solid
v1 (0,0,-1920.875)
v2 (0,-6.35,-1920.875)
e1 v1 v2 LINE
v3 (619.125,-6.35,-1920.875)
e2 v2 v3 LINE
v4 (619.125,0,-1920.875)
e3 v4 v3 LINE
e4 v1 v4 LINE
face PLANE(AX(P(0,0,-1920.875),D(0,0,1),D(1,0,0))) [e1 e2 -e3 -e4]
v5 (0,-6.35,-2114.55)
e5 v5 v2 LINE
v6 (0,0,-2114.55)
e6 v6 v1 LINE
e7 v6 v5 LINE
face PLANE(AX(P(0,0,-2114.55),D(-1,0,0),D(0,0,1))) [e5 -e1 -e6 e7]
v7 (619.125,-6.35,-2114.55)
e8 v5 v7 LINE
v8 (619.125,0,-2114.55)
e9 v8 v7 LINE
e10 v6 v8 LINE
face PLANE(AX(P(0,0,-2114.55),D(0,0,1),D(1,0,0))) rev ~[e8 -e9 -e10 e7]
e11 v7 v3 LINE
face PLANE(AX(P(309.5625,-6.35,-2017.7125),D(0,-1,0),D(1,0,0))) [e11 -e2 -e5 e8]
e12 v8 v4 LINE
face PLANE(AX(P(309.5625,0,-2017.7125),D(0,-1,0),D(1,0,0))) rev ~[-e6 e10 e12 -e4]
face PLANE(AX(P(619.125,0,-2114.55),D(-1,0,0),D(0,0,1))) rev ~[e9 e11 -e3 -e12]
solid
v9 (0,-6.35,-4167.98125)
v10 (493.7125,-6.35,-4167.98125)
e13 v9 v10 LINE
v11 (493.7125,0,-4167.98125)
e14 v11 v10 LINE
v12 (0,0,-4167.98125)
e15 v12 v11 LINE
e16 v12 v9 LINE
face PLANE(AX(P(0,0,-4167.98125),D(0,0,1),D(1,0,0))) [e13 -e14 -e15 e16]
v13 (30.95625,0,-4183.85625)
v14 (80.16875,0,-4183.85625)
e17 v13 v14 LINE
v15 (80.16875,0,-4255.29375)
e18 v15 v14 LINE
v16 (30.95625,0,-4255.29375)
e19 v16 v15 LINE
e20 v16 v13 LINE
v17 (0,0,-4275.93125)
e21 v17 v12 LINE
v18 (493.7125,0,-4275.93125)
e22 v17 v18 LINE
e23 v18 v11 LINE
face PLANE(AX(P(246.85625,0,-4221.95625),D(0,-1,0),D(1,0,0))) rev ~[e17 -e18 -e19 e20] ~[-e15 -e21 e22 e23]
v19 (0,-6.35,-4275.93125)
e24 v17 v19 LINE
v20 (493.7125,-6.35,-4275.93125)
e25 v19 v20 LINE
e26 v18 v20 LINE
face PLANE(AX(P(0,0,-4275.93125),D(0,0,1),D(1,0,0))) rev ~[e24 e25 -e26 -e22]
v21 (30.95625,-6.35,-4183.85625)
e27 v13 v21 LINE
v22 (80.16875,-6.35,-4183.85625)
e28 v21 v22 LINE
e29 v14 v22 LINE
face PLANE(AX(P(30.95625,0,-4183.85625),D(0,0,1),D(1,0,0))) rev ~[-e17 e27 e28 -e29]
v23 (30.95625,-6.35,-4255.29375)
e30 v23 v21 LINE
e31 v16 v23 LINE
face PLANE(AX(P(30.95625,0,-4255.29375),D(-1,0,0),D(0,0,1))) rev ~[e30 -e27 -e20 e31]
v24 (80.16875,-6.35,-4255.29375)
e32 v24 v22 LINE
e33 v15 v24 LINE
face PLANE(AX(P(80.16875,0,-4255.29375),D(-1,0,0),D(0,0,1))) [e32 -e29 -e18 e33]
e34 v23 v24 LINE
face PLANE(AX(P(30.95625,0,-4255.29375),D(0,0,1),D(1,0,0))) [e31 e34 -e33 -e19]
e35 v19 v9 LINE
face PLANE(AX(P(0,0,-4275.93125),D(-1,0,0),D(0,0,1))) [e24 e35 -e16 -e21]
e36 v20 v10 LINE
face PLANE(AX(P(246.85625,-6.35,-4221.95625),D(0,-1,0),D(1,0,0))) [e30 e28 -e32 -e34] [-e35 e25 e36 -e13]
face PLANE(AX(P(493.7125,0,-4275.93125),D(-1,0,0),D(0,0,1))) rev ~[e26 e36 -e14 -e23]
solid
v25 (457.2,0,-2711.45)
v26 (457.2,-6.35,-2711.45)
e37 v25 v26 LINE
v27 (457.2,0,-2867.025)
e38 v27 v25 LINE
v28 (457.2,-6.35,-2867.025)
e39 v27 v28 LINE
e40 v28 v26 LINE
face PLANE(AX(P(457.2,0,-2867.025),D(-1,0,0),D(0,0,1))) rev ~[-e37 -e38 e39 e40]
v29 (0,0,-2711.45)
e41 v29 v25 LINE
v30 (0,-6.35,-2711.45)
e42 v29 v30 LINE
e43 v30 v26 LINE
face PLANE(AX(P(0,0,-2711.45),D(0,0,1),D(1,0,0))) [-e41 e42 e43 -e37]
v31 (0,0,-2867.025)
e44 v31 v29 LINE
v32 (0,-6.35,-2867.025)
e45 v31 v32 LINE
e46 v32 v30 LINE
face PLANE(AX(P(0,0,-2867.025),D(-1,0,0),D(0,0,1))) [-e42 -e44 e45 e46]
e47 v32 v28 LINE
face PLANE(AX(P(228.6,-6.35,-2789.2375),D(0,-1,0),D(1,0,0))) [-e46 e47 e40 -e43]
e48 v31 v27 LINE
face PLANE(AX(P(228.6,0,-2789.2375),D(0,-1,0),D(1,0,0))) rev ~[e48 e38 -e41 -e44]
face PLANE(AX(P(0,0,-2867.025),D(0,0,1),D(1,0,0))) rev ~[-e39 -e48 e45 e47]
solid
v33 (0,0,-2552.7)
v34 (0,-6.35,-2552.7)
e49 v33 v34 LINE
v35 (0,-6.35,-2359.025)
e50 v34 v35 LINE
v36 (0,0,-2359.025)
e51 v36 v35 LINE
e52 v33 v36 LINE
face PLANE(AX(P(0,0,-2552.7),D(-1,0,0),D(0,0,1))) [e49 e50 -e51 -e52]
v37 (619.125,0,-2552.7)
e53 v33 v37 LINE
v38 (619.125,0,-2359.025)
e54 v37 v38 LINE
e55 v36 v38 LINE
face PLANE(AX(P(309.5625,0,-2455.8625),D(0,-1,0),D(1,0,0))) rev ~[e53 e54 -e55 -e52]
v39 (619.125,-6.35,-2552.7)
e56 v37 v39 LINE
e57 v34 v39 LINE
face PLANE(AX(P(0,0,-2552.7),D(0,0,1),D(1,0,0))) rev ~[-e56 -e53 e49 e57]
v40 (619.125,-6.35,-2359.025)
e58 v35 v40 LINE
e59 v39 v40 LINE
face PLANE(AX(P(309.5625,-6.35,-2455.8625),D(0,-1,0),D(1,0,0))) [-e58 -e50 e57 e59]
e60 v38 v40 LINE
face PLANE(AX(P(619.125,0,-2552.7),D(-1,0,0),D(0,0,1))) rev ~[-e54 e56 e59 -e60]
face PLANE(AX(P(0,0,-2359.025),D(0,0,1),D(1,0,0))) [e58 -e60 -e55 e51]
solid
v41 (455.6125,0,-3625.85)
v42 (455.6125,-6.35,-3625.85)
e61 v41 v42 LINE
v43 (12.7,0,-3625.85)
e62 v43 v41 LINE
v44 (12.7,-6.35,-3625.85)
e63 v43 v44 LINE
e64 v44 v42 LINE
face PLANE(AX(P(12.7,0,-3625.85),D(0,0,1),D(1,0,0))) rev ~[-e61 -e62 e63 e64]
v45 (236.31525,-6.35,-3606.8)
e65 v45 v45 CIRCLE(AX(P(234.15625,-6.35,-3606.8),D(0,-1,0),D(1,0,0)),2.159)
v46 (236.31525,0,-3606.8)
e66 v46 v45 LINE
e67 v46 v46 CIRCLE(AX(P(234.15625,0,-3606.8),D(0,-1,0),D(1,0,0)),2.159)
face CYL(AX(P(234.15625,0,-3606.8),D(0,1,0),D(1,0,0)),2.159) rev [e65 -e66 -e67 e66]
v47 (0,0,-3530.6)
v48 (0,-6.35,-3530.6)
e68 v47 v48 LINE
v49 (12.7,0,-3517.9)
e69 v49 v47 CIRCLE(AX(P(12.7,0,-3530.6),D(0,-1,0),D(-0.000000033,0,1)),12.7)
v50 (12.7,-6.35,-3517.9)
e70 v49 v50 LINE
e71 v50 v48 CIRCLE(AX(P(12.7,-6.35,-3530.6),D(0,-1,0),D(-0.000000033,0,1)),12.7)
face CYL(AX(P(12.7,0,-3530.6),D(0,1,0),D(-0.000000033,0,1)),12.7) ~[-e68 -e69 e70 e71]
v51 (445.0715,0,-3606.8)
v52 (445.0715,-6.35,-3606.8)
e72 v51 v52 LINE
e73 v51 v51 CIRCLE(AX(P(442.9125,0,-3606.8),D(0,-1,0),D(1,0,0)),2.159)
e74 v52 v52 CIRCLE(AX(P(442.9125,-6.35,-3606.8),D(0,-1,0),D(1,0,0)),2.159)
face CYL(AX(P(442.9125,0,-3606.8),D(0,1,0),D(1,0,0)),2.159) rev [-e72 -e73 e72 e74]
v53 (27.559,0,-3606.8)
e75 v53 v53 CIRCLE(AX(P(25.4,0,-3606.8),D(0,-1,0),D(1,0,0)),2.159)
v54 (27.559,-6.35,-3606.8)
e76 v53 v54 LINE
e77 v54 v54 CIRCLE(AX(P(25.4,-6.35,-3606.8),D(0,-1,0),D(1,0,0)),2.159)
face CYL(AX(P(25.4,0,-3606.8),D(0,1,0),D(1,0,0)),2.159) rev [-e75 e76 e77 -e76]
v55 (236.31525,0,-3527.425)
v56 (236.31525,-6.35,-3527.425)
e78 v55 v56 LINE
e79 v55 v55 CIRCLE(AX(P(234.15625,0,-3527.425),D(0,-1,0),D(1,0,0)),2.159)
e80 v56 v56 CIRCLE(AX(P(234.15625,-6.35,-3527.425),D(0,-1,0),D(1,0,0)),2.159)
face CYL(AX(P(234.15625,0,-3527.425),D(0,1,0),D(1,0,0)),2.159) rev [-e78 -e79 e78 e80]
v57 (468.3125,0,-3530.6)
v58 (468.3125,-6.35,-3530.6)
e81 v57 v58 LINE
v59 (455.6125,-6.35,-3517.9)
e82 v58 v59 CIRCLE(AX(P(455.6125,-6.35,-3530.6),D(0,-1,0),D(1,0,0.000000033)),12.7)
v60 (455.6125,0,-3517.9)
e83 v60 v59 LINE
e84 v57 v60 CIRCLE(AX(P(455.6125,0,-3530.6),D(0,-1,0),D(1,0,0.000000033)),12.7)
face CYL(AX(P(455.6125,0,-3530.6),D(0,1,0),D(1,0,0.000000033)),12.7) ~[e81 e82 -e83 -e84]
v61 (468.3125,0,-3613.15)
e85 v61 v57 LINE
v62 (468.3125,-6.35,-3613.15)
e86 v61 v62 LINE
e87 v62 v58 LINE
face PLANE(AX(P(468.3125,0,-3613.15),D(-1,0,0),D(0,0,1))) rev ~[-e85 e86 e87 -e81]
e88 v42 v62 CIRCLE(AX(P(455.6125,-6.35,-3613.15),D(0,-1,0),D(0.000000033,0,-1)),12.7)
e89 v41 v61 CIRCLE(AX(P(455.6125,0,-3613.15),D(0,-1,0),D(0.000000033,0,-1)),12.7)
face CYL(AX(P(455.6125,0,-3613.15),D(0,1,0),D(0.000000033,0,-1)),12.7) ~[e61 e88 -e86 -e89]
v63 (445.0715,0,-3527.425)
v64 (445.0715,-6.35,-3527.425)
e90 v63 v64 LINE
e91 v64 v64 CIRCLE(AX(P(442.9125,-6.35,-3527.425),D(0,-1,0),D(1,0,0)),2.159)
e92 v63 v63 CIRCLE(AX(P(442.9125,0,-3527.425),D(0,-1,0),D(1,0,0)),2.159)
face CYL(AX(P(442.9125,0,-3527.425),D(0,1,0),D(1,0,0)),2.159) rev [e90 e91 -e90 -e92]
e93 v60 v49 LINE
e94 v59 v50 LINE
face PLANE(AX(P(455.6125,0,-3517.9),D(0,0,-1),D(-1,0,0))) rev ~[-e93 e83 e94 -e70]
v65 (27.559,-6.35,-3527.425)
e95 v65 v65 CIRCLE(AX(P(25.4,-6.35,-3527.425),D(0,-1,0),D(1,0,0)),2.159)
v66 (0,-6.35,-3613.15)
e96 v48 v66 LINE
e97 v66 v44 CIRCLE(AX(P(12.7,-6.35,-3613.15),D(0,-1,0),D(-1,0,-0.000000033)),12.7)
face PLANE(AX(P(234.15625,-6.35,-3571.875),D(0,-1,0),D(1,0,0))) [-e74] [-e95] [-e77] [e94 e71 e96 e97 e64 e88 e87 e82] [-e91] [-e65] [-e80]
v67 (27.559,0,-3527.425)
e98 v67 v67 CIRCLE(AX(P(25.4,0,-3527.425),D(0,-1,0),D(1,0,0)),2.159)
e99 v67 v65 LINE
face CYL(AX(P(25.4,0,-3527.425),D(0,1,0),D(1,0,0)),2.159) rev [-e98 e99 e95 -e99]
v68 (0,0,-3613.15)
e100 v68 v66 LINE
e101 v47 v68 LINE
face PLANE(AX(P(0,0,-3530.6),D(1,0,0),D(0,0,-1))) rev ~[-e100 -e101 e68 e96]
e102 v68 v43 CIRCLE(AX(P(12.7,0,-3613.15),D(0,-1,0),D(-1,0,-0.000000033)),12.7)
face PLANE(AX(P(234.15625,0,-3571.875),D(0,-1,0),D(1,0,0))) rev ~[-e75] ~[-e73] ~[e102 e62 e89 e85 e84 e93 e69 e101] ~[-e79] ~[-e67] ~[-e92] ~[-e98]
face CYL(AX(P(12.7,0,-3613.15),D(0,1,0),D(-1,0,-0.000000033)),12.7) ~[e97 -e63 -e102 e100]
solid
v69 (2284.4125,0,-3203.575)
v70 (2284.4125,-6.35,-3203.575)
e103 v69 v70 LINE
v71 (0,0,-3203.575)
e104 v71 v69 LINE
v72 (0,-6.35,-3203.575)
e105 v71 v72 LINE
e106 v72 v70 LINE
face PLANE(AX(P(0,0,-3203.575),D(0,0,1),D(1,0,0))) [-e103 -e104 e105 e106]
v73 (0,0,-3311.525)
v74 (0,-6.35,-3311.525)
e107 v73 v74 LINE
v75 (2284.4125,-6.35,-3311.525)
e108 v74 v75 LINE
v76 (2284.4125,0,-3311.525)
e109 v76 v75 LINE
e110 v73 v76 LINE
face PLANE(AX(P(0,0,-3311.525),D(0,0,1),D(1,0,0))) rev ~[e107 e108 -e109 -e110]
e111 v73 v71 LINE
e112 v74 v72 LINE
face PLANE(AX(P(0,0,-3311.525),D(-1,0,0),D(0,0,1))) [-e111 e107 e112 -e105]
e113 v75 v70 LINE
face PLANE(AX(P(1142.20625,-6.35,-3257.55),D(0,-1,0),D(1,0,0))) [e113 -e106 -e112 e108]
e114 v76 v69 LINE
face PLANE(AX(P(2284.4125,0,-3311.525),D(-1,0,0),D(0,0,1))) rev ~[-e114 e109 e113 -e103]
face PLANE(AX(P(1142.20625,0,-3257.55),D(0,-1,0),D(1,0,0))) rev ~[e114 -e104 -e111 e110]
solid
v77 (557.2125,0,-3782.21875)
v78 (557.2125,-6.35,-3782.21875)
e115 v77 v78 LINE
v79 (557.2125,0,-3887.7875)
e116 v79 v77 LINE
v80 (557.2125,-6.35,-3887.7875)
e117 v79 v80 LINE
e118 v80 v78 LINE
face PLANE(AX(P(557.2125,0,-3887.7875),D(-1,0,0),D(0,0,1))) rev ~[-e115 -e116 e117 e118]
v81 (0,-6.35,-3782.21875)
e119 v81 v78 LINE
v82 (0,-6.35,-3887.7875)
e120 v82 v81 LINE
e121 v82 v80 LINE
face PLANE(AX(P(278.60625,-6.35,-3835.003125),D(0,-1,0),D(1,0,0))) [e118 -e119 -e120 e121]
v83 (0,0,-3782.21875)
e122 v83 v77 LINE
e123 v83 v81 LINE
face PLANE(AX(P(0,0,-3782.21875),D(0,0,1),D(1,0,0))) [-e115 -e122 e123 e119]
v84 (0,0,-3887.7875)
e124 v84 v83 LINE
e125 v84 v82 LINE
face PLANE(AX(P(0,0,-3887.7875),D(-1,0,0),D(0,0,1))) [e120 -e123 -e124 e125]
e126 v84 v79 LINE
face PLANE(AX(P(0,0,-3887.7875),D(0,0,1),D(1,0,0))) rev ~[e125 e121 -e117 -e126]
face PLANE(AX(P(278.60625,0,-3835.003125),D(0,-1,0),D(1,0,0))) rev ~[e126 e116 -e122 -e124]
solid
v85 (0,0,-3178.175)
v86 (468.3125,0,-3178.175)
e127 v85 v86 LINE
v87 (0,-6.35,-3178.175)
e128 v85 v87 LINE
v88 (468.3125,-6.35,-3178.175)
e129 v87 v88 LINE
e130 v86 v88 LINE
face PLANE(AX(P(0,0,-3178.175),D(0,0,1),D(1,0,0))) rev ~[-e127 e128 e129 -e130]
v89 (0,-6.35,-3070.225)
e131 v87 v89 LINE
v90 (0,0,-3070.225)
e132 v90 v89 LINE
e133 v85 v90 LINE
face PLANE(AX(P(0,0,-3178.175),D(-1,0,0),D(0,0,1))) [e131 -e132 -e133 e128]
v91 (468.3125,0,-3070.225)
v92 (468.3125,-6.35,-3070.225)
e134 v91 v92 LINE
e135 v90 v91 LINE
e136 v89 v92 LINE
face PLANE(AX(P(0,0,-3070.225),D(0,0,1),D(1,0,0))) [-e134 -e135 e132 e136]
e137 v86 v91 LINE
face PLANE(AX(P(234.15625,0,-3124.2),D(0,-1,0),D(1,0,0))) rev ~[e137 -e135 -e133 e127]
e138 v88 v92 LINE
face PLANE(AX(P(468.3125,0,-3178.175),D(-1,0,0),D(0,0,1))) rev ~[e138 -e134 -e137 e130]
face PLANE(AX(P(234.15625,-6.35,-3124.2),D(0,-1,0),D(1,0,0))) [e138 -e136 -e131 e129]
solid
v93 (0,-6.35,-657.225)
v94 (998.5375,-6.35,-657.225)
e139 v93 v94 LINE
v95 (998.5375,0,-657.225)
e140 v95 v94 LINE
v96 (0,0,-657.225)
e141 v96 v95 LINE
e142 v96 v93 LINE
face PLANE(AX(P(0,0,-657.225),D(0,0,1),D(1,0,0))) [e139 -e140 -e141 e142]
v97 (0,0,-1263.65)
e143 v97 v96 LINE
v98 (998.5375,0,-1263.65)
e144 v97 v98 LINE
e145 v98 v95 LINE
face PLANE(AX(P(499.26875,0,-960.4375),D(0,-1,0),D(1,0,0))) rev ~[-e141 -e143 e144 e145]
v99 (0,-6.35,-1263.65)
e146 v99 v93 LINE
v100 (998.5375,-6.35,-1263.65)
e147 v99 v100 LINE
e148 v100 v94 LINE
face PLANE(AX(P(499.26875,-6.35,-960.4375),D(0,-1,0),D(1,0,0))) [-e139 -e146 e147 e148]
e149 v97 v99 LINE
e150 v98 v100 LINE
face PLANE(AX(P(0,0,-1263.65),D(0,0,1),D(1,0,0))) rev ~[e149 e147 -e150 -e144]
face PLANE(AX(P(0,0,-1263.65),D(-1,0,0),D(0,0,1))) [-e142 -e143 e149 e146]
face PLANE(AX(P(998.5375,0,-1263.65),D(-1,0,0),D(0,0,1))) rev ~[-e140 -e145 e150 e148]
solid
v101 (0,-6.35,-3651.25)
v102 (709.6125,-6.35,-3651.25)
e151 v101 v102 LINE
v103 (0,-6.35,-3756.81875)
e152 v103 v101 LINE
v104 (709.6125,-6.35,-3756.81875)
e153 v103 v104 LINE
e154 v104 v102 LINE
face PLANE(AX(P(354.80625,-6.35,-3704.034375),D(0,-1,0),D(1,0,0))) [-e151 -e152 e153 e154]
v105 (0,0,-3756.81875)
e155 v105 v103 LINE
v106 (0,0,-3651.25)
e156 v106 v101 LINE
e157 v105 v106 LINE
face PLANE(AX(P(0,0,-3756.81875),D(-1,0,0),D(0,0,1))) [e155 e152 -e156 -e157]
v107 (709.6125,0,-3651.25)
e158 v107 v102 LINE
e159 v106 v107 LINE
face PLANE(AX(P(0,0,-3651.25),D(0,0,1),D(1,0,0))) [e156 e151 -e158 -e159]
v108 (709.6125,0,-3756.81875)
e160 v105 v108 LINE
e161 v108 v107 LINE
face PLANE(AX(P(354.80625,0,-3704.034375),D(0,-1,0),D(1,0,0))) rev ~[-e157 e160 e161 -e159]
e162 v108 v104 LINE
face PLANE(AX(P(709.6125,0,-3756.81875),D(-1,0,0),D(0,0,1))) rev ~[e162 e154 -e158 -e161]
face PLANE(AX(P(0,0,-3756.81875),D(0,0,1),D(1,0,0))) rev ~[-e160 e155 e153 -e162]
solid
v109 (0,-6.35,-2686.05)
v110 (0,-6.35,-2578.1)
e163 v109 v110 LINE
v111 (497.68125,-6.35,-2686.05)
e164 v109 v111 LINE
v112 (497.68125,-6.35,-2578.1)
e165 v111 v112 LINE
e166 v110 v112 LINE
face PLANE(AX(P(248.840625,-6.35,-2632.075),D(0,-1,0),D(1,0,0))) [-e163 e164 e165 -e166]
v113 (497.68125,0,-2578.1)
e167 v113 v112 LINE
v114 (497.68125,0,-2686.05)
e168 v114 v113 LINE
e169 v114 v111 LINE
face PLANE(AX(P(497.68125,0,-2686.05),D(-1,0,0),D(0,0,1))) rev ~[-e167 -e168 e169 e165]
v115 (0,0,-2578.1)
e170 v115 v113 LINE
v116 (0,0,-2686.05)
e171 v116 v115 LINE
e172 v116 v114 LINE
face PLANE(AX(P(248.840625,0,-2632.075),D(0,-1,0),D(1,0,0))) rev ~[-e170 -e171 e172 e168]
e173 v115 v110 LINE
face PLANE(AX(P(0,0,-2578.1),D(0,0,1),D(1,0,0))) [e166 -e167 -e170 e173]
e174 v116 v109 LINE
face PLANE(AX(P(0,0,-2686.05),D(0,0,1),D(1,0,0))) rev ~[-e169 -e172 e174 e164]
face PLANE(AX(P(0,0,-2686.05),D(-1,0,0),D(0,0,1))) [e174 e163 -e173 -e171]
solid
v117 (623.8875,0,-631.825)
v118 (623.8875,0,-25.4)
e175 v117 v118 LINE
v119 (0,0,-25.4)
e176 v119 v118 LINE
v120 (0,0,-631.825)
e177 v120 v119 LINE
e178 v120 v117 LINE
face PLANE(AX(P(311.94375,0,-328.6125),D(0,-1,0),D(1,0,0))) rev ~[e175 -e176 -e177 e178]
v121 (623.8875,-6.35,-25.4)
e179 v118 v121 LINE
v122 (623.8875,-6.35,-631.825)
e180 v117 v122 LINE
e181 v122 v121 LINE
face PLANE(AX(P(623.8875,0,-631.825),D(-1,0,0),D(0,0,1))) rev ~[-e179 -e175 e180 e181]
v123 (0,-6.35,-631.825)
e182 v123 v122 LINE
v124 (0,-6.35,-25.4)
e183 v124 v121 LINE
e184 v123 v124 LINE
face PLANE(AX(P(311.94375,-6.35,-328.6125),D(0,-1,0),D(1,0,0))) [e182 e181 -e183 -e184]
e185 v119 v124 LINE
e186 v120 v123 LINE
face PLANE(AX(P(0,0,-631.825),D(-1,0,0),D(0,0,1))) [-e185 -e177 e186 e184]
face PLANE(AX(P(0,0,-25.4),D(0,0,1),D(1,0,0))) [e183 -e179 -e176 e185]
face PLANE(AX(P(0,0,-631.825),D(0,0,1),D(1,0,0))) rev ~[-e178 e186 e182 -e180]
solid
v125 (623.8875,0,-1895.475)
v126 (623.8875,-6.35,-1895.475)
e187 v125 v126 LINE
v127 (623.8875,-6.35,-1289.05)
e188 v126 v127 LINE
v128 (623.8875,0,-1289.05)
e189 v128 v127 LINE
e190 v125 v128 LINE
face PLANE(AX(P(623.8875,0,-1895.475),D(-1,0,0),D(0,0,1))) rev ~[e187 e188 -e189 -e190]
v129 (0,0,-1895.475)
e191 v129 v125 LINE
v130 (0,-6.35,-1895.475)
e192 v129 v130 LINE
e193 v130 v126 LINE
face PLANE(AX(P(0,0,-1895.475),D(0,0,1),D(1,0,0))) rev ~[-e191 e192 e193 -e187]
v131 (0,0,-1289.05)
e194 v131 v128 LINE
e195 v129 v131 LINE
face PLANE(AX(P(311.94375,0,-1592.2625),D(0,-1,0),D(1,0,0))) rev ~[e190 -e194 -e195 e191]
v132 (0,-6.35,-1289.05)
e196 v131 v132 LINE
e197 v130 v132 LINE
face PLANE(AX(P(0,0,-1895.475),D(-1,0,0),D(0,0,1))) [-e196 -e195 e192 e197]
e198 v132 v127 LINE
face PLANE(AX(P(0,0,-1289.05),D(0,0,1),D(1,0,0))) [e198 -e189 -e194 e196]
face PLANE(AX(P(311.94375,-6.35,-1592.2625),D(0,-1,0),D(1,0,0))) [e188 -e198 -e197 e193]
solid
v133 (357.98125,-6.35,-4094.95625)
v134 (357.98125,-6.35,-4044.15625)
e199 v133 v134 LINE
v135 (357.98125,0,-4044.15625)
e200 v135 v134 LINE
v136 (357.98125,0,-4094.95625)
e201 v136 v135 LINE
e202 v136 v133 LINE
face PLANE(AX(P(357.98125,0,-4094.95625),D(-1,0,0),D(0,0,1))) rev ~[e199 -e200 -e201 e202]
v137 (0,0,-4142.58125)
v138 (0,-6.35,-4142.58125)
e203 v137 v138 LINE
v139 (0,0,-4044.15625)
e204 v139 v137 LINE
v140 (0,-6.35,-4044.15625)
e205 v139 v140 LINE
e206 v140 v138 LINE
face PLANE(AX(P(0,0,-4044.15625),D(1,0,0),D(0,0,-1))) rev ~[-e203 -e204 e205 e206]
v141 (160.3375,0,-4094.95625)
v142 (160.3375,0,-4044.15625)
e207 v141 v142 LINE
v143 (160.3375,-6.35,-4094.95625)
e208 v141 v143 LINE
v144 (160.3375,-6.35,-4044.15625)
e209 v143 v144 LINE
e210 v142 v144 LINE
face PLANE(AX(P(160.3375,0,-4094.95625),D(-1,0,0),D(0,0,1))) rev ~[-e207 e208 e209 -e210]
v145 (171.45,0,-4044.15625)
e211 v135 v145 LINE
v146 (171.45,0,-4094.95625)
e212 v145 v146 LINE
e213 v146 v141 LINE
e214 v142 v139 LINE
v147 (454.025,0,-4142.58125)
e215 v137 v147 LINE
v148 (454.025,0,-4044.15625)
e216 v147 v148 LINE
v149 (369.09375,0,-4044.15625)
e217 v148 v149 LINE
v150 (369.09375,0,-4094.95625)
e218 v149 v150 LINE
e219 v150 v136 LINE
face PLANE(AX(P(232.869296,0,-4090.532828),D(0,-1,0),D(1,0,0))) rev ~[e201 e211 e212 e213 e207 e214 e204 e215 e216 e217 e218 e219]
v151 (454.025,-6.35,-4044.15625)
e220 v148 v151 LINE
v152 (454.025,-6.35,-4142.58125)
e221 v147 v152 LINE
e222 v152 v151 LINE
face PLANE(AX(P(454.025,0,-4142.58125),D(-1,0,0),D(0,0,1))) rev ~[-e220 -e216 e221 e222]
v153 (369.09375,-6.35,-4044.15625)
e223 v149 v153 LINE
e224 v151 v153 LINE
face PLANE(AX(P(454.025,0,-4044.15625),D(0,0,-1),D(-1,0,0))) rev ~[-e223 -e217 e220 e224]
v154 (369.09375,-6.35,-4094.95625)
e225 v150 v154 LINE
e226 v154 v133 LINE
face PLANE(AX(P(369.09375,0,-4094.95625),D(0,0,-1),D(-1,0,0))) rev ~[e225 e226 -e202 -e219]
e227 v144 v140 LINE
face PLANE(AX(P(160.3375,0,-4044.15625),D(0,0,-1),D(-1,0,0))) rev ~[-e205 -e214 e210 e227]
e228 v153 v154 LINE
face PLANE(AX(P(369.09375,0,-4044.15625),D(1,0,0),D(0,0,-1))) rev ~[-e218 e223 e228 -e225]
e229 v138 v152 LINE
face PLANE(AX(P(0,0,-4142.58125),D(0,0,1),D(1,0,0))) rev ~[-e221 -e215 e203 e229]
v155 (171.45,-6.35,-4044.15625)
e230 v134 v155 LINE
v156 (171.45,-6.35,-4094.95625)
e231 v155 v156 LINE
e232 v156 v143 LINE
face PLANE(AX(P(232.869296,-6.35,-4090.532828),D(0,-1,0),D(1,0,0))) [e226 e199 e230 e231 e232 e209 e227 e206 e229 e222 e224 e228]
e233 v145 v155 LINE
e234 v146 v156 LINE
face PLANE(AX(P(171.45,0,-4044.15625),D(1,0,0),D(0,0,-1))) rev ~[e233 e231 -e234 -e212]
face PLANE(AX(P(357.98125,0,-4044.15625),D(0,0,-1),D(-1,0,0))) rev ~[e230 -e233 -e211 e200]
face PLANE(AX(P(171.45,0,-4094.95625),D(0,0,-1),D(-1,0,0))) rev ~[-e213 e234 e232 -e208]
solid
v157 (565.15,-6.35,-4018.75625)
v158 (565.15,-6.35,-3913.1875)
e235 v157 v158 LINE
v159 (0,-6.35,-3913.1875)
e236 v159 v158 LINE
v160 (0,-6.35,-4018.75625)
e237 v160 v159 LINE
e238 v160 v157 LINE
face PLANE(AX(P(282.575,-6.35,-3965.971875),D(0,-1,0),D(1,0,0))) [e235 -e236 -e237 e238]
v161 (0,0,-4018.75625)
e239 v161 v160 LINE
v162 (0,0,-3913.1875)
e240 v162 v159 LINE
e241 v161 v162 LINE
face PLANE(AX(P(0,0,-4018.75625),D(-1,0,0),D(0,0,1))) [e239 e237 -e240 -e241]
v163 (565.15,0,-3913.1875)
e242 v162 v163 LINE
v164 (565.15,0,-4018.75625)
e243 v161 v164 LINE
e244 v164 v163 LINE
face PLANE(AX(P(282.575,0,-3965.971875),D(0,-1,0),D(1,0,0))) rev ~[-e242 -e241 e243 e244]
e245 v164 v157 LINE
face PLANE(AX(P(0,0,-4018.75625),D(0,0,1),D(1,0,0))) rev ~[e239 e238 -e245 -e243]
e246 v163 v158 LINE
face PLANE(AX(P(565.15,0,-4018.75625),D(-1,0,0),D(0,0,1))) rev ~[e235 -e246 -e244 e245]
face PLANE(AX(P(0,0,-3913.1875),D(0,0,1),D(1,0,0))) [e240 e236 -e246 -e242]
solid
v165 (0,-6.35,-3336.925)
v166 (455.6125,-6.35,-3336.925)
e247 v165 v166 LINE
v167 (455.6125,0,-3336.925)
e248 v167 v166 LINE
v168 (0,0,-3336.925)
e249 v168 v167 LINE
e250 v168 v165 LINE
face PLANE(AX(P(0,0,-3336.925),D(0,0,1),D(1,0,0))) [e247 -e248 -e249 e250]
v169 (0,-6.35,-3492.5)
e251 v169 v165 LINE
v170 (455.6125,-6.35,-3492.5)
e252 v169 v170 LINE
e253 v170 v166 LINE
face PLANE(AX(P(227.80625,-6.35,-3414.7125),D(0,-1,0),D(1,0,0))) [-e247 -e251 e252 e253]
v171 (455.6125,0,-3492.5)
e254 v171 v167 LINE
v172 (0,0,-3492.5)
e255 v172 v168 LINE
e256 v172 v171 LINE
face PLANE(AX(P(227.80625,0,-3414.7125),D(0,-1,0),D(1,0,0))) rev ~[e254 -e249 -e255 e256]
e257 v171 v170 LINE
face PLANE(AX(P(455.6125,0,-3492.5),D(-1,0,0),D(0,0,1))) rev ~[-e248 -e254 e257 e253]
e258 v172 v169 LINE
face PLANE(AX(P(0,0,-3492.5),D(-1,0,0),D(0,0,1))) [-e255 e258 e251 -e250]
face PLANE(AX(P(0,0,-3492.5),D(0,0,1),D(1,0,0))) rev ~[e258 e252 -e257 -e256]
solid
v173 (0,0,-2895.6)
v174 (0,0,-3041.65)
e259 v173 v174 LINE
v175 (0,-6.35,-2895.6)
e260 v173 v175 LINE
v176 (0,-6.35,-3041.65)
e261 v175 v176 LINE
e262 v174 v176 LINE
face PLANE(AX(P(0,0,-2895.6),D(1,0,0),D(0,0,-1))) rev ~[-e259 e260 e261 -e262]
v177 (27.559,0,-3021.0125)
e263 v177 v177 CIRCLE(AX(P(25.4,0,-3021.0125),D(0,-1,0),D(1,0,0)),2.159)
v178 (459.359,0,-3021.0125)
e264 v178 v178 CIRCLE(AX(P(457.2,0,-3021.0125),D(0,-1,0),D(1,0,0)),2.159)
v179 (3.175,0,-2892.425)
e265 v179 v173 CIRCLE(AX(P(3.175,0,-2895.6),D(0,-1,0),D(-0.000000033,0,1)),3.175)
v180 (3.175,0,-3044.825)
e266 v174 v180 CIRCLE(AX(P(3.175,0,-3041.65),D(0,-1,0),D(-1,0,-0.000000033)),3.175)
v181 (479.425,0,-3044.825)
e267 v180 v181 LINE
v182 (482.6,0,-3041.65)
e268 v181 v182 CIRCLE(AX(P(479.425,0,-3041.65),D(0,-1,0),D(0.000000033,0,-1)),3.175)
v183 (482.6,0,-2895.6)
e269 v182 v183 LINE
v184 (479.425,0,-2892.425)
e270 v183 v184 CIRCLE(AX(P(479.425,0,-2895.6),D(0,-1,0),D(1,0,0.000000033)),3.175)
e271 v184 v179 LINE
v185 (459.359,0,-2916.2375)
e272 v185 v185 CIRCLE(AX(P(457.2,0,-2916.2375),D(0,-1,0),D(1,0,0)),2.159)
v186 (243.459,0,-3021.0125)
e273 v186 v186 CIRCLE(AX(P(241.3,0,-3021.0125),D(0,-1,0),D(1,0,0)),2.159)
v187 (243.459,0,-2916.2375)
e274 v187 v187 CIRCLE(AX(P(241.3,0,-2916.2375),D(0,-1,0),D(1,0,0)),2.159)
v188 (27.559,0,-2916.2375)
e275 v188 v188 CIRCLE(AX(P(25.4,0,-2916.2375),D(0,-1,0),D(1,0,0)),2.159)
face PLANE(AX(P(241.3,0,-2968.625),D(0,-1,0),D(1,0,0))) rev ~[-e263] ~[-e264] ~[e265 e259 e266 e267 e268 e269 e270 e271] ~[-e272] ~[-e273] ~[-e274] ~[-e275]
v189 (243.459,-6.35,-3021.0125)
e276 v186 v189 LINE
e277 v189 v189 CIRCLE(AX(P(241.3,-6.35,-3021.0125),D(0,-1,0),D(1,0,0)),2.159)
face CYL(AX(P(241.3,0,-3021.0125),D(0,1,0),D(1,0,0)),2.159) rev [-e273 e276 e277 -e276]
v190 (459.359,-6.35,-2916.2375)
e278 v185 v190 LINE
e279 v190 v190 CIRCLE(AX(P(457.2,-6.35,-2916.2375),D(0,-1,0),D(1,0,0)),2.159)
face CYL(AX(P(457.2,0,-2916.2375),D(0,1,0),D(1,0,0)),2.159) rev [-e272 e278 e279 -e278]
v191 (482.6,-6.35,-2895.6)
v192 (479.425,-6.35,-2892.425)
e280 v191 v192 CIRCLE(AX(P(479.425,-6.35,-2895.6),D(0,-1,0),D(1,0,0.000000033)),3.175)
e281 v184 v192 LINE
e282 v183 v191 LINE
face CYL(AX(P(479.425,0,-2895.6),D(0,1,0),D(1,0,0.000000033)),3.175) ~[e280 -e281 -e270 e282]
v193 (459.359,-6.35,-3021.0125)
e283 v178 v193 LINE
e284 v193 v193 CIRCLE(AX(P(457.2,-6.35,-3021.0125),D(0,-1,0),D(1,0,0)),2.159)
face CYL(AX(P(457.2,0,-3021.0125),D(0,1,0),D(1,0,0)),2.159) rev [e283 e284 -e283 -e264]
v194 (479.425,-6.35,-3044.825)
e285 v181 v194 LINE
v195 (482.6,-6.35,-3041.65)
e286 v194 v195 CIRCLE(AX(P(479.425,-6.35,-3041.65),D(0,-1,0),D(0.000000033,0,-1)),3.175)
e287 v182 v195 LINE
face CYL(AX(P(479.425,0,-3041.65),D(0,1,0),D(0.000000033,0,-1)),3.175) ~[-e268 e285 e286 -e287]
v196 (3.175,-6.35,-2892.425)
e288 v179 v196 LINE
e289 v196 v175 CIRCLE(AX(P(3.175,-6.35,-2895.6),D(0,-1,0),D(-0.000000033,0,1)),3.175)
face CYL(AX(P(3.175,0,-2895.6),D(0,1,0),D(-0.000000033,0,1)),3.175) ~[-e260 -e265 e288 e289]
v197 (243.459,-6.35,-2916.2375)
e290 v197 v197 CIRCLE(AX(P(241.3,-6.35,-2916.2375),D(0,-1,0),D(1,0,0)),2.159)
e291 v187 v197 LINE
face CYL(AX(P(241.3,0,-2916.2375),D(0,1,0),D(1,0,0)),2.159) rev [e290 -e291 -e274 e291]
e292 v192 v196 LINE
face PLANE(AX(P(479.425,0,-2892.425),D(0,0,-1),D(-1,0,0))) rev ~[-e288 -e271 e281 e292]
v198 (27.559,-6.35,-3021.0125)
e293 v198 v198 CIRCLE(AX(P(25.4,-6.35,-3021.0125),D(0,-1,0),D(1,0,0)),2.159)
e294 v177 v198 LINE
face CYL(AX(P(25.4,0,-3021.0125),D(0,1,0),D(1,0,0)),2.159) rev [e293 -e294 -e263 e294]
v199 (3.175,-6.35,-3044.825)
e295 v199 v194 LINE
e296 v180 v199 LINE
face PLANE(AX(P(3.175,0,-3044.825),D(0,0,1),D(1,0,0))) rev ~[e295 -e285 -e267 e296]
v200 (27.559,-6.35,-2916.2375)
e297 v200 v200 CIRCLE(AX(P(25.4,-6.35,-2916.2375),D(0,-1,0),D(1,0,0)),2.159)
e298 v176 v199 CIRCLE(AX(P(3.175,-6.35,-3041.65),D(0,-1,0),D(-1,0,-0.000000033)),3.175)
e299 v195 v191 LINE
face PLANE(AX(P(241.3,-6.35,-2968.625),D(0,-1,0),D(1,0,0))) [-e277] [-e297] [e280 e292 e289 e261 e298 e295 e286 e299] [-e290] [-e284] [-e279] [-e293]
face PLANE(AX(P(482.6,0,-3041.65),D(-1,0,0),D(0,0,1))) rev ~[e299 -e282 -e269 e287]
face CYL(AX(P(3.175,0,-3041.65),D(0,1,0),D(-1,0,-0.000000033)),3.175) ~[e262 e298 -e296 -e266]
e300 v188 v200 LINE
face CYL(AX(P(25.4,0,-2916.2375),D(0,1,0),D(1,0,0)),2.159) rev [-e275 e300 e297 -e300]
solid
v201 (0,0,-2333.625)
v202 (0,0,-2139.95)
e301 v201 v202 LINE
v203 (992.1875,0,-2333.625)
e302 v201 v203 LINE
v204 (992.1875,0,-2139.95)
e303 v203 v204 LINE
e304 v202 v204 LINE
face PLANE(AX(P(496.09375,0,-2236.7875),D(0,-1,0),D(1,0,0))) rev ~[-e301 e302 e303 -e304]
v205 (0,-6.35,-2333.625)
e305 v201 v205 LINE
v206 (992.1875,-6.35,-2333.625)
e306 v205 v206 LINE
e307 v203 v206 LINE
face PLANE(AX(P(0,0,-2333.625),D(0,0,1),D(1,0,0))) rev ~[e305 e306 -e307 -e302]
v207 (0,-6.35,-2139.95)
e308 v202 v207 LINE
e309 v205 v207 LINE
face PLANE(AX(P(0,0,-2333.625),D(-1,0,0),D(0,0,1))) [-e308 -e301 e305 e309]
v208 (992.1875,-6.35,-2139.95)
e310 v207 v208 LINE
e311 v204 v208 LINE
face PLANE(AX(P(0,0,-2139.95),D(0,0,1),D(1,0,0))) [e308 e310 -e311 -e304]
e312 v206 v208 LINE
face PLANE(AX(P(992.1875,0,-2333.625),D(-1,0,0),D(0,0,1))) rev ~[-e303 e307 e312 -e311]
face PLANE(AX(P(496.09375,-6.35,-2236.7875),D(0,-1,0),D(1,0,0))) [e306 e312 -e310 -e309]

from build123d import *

# Parameters (mm, degrees)
F0_W     = 623.8875
F0_H     = 606.425
F0_W_2   = 998.5375
F0_W_3   = 619.125
F0_H_2   = 193.675
F0_W_4   = 992.1875
F0_W_5   = 497.68125
F0_H_3   = 107.95
F0_W_6   = 457.2
F0_H_4   = 155.575
F0_R     = 2.159
F0_W_7   = 468.3125
F0_W_8   = 2284.4125
F0_W_9   = 455.6125
F0_W_10  = 709.6125
F0_H_5   = 105.56875
F0_W_11  = 557.2125
F0_W_12  = 565.15
F0_W_13  = 493.7125
F0_W_14  = 49.2125
F0_H_6   = 71.4375
F1_DEPTH = 6.35


with BuildPart() as f1:
    # F0 (on Front) → F1 (new body)
    with BuildSketch(Plane.XZ):
        with Locations((311.94375, -328.6125)):
            Rectangle(F0_W, F0_H)
        with Locations((499.26875, -960.4375)):
            Rectangle(F0_W_2, F0_H)
        with Locations((311.94375, -1592.2625)):
            Rectangle(F0_W, F0_H)
        with Locations((309.5625, -2017.7125)):
            Rectangle(F0_W_3, F0_H_2)
        with Locations((496.09375, -2236.7875)):
            Rectangle(F0_W_4, F0_H_2)
        with Locations((309.5625, -2455.8625)):
            Rectangle(F0_W_3, F0_H_2)
        with Locations((248.840625, -2632.075)):
            Rectangle(F0_W_5, F0_H_3)
        with Locations((228.6, -2789.2375)):
            Rectangle(F0_W_6, F0_H_4)
        with BuildLine():
            Line((479.425, -2892.425), (3.175, -2892.425))
            ThreePointArc((3.175, -2892.425), (0.929936, -2893.354936), (0, -2895.6))
            Line((0, -2895.6), (0, -3041.65))
            ThreePointArc((0, -3041.65), (0.929936, -3043.895064), (3.175, -3044.825))
            Line((3.175, -3044.825), (479.425, -3044.825))
            ThreePointArc((479.425, -3044.825), (481.670064, -3043.895064), (482.6, -3041.65))
            Line((482.6, -3041.65), (482.6, -2895.6))
            ThreePointArc((482.6, -2895.6), (481.670064, -2893.354936), (479.425, -2892.425))
        make_face()
        with Locations((25.4, -3021.0125)):
            Circle(F0_R, mode=Mode.SUBTRACT)
        with Locations((241.3, -3021.0125)):
            Circle(F0_R, mode=Mode.SUBTRACT)
        with Locations((25.4, -2916.2375)):
            Circle(F0_R, mode=Mode.SUBTRACT)
        with Locations((241.3, -2916.2375)):
            Circle(F0_R, mode=Mode.SUBTRACT)
        with Locations((457.2, -3021.0125)):
            Circle(F0_R, mode=Mode.SUBTRACT)
        with Locations((457.2, -2916.2375)):
            Circle(F0_R, mode=Mode.SUBTRACT)
        with Locations((234.15625, -3124.2)):
            Rectangle(F0_W_7, F0_H_3)
        with Locations((1142.20625, -3257.55)):
            Rectangle(F0_W_8, F0_H_3)
        with Locations((227.80625, -3414.7125)):
            Rectangle(F0_W_9, F0_H_4)
        with BuildLine():
            Line((455.6125, -3517.9), (12.7, -3517.9))
            ThreePointArc((12.7, -3517.9), (3.719744, -3521.619744), (0, -3530.6))
            Line((0, -3530.6), (0, -3613.15))
            ThreePointArc((0, -3613.15), (3.719744, -3622.130256), (12.7, -3625.85))
            Line((12.7, -3625.85), (455.6125, -3625.85))
            ThreePointArc((455.6125, -3625.85), (464.592756, -3622.130256), (468.3125, -3613.15))
            Line((468.3125, -3613.15), (468.3125, -3530.6))
            ThreePointArc((468.3125, -3530.6), (464.592756, -3521.619744), (455.6125, -3517.9))
        make_face()
        with Locations((25.4, -3606.8)):
            Circle(F0_R, mode=Mode.SUBTRACT)
        with Locations((25.4, -3527.425)):
            Circle(F0_R, mode=Mode.SUBTRACT)
        with Locations((234.15625, -3606.8)):
            Circle(F0_R, mode=Mode.SUBTRACT)
        with Locations((234.15625, -3527.425)):
            Circle(F0_R, mode=Mode.SUBTRACT)
        with Locations((442.9125, -3606.8)):
            Circle(F0_R, mode=Mode.SUBTRACT)
        with Locations((442.9125, -3527.425)):
            Circle(F0_R, mode=Mode.SUBTRACT)
        with Locations((354.80625, -3704.034375)):
            Rectangle(F0_W_10, F0_H_5)
        with Locations((278.60625, -3835.003125)):
            Rectangle(F0_W_11, F0_H_5)
        with Locations((282.575, -3965.971875)):
            Rectangle(F0_W_12, F0_H_5)
        Polygon((160.3375, -4044.15625), (0, -4044.15625), (0, -4142.58125), (454.025, -4142.58125), (454.025, -4044.15625), (369.09375, -4044.15625), (369.09375, -4094.95625), (357.98125, -4094.95625), (357.98125, -4044.15625), (171.45, -4044.15625), (171.45, -4094.95625), (160.3375, -4094.95625), align=None)
        with Locations((246.85625, -4221.95625)):
            Rectangle(F0_W_13, F0_H_3)
        with Locations((55.5625, -4219.575)):
            Rectangle(F0_W_14, F0_H_6, mode=Mode.SUBTRACT)
    extrude(amount=F1_DEPTH)


solid = f1.part
